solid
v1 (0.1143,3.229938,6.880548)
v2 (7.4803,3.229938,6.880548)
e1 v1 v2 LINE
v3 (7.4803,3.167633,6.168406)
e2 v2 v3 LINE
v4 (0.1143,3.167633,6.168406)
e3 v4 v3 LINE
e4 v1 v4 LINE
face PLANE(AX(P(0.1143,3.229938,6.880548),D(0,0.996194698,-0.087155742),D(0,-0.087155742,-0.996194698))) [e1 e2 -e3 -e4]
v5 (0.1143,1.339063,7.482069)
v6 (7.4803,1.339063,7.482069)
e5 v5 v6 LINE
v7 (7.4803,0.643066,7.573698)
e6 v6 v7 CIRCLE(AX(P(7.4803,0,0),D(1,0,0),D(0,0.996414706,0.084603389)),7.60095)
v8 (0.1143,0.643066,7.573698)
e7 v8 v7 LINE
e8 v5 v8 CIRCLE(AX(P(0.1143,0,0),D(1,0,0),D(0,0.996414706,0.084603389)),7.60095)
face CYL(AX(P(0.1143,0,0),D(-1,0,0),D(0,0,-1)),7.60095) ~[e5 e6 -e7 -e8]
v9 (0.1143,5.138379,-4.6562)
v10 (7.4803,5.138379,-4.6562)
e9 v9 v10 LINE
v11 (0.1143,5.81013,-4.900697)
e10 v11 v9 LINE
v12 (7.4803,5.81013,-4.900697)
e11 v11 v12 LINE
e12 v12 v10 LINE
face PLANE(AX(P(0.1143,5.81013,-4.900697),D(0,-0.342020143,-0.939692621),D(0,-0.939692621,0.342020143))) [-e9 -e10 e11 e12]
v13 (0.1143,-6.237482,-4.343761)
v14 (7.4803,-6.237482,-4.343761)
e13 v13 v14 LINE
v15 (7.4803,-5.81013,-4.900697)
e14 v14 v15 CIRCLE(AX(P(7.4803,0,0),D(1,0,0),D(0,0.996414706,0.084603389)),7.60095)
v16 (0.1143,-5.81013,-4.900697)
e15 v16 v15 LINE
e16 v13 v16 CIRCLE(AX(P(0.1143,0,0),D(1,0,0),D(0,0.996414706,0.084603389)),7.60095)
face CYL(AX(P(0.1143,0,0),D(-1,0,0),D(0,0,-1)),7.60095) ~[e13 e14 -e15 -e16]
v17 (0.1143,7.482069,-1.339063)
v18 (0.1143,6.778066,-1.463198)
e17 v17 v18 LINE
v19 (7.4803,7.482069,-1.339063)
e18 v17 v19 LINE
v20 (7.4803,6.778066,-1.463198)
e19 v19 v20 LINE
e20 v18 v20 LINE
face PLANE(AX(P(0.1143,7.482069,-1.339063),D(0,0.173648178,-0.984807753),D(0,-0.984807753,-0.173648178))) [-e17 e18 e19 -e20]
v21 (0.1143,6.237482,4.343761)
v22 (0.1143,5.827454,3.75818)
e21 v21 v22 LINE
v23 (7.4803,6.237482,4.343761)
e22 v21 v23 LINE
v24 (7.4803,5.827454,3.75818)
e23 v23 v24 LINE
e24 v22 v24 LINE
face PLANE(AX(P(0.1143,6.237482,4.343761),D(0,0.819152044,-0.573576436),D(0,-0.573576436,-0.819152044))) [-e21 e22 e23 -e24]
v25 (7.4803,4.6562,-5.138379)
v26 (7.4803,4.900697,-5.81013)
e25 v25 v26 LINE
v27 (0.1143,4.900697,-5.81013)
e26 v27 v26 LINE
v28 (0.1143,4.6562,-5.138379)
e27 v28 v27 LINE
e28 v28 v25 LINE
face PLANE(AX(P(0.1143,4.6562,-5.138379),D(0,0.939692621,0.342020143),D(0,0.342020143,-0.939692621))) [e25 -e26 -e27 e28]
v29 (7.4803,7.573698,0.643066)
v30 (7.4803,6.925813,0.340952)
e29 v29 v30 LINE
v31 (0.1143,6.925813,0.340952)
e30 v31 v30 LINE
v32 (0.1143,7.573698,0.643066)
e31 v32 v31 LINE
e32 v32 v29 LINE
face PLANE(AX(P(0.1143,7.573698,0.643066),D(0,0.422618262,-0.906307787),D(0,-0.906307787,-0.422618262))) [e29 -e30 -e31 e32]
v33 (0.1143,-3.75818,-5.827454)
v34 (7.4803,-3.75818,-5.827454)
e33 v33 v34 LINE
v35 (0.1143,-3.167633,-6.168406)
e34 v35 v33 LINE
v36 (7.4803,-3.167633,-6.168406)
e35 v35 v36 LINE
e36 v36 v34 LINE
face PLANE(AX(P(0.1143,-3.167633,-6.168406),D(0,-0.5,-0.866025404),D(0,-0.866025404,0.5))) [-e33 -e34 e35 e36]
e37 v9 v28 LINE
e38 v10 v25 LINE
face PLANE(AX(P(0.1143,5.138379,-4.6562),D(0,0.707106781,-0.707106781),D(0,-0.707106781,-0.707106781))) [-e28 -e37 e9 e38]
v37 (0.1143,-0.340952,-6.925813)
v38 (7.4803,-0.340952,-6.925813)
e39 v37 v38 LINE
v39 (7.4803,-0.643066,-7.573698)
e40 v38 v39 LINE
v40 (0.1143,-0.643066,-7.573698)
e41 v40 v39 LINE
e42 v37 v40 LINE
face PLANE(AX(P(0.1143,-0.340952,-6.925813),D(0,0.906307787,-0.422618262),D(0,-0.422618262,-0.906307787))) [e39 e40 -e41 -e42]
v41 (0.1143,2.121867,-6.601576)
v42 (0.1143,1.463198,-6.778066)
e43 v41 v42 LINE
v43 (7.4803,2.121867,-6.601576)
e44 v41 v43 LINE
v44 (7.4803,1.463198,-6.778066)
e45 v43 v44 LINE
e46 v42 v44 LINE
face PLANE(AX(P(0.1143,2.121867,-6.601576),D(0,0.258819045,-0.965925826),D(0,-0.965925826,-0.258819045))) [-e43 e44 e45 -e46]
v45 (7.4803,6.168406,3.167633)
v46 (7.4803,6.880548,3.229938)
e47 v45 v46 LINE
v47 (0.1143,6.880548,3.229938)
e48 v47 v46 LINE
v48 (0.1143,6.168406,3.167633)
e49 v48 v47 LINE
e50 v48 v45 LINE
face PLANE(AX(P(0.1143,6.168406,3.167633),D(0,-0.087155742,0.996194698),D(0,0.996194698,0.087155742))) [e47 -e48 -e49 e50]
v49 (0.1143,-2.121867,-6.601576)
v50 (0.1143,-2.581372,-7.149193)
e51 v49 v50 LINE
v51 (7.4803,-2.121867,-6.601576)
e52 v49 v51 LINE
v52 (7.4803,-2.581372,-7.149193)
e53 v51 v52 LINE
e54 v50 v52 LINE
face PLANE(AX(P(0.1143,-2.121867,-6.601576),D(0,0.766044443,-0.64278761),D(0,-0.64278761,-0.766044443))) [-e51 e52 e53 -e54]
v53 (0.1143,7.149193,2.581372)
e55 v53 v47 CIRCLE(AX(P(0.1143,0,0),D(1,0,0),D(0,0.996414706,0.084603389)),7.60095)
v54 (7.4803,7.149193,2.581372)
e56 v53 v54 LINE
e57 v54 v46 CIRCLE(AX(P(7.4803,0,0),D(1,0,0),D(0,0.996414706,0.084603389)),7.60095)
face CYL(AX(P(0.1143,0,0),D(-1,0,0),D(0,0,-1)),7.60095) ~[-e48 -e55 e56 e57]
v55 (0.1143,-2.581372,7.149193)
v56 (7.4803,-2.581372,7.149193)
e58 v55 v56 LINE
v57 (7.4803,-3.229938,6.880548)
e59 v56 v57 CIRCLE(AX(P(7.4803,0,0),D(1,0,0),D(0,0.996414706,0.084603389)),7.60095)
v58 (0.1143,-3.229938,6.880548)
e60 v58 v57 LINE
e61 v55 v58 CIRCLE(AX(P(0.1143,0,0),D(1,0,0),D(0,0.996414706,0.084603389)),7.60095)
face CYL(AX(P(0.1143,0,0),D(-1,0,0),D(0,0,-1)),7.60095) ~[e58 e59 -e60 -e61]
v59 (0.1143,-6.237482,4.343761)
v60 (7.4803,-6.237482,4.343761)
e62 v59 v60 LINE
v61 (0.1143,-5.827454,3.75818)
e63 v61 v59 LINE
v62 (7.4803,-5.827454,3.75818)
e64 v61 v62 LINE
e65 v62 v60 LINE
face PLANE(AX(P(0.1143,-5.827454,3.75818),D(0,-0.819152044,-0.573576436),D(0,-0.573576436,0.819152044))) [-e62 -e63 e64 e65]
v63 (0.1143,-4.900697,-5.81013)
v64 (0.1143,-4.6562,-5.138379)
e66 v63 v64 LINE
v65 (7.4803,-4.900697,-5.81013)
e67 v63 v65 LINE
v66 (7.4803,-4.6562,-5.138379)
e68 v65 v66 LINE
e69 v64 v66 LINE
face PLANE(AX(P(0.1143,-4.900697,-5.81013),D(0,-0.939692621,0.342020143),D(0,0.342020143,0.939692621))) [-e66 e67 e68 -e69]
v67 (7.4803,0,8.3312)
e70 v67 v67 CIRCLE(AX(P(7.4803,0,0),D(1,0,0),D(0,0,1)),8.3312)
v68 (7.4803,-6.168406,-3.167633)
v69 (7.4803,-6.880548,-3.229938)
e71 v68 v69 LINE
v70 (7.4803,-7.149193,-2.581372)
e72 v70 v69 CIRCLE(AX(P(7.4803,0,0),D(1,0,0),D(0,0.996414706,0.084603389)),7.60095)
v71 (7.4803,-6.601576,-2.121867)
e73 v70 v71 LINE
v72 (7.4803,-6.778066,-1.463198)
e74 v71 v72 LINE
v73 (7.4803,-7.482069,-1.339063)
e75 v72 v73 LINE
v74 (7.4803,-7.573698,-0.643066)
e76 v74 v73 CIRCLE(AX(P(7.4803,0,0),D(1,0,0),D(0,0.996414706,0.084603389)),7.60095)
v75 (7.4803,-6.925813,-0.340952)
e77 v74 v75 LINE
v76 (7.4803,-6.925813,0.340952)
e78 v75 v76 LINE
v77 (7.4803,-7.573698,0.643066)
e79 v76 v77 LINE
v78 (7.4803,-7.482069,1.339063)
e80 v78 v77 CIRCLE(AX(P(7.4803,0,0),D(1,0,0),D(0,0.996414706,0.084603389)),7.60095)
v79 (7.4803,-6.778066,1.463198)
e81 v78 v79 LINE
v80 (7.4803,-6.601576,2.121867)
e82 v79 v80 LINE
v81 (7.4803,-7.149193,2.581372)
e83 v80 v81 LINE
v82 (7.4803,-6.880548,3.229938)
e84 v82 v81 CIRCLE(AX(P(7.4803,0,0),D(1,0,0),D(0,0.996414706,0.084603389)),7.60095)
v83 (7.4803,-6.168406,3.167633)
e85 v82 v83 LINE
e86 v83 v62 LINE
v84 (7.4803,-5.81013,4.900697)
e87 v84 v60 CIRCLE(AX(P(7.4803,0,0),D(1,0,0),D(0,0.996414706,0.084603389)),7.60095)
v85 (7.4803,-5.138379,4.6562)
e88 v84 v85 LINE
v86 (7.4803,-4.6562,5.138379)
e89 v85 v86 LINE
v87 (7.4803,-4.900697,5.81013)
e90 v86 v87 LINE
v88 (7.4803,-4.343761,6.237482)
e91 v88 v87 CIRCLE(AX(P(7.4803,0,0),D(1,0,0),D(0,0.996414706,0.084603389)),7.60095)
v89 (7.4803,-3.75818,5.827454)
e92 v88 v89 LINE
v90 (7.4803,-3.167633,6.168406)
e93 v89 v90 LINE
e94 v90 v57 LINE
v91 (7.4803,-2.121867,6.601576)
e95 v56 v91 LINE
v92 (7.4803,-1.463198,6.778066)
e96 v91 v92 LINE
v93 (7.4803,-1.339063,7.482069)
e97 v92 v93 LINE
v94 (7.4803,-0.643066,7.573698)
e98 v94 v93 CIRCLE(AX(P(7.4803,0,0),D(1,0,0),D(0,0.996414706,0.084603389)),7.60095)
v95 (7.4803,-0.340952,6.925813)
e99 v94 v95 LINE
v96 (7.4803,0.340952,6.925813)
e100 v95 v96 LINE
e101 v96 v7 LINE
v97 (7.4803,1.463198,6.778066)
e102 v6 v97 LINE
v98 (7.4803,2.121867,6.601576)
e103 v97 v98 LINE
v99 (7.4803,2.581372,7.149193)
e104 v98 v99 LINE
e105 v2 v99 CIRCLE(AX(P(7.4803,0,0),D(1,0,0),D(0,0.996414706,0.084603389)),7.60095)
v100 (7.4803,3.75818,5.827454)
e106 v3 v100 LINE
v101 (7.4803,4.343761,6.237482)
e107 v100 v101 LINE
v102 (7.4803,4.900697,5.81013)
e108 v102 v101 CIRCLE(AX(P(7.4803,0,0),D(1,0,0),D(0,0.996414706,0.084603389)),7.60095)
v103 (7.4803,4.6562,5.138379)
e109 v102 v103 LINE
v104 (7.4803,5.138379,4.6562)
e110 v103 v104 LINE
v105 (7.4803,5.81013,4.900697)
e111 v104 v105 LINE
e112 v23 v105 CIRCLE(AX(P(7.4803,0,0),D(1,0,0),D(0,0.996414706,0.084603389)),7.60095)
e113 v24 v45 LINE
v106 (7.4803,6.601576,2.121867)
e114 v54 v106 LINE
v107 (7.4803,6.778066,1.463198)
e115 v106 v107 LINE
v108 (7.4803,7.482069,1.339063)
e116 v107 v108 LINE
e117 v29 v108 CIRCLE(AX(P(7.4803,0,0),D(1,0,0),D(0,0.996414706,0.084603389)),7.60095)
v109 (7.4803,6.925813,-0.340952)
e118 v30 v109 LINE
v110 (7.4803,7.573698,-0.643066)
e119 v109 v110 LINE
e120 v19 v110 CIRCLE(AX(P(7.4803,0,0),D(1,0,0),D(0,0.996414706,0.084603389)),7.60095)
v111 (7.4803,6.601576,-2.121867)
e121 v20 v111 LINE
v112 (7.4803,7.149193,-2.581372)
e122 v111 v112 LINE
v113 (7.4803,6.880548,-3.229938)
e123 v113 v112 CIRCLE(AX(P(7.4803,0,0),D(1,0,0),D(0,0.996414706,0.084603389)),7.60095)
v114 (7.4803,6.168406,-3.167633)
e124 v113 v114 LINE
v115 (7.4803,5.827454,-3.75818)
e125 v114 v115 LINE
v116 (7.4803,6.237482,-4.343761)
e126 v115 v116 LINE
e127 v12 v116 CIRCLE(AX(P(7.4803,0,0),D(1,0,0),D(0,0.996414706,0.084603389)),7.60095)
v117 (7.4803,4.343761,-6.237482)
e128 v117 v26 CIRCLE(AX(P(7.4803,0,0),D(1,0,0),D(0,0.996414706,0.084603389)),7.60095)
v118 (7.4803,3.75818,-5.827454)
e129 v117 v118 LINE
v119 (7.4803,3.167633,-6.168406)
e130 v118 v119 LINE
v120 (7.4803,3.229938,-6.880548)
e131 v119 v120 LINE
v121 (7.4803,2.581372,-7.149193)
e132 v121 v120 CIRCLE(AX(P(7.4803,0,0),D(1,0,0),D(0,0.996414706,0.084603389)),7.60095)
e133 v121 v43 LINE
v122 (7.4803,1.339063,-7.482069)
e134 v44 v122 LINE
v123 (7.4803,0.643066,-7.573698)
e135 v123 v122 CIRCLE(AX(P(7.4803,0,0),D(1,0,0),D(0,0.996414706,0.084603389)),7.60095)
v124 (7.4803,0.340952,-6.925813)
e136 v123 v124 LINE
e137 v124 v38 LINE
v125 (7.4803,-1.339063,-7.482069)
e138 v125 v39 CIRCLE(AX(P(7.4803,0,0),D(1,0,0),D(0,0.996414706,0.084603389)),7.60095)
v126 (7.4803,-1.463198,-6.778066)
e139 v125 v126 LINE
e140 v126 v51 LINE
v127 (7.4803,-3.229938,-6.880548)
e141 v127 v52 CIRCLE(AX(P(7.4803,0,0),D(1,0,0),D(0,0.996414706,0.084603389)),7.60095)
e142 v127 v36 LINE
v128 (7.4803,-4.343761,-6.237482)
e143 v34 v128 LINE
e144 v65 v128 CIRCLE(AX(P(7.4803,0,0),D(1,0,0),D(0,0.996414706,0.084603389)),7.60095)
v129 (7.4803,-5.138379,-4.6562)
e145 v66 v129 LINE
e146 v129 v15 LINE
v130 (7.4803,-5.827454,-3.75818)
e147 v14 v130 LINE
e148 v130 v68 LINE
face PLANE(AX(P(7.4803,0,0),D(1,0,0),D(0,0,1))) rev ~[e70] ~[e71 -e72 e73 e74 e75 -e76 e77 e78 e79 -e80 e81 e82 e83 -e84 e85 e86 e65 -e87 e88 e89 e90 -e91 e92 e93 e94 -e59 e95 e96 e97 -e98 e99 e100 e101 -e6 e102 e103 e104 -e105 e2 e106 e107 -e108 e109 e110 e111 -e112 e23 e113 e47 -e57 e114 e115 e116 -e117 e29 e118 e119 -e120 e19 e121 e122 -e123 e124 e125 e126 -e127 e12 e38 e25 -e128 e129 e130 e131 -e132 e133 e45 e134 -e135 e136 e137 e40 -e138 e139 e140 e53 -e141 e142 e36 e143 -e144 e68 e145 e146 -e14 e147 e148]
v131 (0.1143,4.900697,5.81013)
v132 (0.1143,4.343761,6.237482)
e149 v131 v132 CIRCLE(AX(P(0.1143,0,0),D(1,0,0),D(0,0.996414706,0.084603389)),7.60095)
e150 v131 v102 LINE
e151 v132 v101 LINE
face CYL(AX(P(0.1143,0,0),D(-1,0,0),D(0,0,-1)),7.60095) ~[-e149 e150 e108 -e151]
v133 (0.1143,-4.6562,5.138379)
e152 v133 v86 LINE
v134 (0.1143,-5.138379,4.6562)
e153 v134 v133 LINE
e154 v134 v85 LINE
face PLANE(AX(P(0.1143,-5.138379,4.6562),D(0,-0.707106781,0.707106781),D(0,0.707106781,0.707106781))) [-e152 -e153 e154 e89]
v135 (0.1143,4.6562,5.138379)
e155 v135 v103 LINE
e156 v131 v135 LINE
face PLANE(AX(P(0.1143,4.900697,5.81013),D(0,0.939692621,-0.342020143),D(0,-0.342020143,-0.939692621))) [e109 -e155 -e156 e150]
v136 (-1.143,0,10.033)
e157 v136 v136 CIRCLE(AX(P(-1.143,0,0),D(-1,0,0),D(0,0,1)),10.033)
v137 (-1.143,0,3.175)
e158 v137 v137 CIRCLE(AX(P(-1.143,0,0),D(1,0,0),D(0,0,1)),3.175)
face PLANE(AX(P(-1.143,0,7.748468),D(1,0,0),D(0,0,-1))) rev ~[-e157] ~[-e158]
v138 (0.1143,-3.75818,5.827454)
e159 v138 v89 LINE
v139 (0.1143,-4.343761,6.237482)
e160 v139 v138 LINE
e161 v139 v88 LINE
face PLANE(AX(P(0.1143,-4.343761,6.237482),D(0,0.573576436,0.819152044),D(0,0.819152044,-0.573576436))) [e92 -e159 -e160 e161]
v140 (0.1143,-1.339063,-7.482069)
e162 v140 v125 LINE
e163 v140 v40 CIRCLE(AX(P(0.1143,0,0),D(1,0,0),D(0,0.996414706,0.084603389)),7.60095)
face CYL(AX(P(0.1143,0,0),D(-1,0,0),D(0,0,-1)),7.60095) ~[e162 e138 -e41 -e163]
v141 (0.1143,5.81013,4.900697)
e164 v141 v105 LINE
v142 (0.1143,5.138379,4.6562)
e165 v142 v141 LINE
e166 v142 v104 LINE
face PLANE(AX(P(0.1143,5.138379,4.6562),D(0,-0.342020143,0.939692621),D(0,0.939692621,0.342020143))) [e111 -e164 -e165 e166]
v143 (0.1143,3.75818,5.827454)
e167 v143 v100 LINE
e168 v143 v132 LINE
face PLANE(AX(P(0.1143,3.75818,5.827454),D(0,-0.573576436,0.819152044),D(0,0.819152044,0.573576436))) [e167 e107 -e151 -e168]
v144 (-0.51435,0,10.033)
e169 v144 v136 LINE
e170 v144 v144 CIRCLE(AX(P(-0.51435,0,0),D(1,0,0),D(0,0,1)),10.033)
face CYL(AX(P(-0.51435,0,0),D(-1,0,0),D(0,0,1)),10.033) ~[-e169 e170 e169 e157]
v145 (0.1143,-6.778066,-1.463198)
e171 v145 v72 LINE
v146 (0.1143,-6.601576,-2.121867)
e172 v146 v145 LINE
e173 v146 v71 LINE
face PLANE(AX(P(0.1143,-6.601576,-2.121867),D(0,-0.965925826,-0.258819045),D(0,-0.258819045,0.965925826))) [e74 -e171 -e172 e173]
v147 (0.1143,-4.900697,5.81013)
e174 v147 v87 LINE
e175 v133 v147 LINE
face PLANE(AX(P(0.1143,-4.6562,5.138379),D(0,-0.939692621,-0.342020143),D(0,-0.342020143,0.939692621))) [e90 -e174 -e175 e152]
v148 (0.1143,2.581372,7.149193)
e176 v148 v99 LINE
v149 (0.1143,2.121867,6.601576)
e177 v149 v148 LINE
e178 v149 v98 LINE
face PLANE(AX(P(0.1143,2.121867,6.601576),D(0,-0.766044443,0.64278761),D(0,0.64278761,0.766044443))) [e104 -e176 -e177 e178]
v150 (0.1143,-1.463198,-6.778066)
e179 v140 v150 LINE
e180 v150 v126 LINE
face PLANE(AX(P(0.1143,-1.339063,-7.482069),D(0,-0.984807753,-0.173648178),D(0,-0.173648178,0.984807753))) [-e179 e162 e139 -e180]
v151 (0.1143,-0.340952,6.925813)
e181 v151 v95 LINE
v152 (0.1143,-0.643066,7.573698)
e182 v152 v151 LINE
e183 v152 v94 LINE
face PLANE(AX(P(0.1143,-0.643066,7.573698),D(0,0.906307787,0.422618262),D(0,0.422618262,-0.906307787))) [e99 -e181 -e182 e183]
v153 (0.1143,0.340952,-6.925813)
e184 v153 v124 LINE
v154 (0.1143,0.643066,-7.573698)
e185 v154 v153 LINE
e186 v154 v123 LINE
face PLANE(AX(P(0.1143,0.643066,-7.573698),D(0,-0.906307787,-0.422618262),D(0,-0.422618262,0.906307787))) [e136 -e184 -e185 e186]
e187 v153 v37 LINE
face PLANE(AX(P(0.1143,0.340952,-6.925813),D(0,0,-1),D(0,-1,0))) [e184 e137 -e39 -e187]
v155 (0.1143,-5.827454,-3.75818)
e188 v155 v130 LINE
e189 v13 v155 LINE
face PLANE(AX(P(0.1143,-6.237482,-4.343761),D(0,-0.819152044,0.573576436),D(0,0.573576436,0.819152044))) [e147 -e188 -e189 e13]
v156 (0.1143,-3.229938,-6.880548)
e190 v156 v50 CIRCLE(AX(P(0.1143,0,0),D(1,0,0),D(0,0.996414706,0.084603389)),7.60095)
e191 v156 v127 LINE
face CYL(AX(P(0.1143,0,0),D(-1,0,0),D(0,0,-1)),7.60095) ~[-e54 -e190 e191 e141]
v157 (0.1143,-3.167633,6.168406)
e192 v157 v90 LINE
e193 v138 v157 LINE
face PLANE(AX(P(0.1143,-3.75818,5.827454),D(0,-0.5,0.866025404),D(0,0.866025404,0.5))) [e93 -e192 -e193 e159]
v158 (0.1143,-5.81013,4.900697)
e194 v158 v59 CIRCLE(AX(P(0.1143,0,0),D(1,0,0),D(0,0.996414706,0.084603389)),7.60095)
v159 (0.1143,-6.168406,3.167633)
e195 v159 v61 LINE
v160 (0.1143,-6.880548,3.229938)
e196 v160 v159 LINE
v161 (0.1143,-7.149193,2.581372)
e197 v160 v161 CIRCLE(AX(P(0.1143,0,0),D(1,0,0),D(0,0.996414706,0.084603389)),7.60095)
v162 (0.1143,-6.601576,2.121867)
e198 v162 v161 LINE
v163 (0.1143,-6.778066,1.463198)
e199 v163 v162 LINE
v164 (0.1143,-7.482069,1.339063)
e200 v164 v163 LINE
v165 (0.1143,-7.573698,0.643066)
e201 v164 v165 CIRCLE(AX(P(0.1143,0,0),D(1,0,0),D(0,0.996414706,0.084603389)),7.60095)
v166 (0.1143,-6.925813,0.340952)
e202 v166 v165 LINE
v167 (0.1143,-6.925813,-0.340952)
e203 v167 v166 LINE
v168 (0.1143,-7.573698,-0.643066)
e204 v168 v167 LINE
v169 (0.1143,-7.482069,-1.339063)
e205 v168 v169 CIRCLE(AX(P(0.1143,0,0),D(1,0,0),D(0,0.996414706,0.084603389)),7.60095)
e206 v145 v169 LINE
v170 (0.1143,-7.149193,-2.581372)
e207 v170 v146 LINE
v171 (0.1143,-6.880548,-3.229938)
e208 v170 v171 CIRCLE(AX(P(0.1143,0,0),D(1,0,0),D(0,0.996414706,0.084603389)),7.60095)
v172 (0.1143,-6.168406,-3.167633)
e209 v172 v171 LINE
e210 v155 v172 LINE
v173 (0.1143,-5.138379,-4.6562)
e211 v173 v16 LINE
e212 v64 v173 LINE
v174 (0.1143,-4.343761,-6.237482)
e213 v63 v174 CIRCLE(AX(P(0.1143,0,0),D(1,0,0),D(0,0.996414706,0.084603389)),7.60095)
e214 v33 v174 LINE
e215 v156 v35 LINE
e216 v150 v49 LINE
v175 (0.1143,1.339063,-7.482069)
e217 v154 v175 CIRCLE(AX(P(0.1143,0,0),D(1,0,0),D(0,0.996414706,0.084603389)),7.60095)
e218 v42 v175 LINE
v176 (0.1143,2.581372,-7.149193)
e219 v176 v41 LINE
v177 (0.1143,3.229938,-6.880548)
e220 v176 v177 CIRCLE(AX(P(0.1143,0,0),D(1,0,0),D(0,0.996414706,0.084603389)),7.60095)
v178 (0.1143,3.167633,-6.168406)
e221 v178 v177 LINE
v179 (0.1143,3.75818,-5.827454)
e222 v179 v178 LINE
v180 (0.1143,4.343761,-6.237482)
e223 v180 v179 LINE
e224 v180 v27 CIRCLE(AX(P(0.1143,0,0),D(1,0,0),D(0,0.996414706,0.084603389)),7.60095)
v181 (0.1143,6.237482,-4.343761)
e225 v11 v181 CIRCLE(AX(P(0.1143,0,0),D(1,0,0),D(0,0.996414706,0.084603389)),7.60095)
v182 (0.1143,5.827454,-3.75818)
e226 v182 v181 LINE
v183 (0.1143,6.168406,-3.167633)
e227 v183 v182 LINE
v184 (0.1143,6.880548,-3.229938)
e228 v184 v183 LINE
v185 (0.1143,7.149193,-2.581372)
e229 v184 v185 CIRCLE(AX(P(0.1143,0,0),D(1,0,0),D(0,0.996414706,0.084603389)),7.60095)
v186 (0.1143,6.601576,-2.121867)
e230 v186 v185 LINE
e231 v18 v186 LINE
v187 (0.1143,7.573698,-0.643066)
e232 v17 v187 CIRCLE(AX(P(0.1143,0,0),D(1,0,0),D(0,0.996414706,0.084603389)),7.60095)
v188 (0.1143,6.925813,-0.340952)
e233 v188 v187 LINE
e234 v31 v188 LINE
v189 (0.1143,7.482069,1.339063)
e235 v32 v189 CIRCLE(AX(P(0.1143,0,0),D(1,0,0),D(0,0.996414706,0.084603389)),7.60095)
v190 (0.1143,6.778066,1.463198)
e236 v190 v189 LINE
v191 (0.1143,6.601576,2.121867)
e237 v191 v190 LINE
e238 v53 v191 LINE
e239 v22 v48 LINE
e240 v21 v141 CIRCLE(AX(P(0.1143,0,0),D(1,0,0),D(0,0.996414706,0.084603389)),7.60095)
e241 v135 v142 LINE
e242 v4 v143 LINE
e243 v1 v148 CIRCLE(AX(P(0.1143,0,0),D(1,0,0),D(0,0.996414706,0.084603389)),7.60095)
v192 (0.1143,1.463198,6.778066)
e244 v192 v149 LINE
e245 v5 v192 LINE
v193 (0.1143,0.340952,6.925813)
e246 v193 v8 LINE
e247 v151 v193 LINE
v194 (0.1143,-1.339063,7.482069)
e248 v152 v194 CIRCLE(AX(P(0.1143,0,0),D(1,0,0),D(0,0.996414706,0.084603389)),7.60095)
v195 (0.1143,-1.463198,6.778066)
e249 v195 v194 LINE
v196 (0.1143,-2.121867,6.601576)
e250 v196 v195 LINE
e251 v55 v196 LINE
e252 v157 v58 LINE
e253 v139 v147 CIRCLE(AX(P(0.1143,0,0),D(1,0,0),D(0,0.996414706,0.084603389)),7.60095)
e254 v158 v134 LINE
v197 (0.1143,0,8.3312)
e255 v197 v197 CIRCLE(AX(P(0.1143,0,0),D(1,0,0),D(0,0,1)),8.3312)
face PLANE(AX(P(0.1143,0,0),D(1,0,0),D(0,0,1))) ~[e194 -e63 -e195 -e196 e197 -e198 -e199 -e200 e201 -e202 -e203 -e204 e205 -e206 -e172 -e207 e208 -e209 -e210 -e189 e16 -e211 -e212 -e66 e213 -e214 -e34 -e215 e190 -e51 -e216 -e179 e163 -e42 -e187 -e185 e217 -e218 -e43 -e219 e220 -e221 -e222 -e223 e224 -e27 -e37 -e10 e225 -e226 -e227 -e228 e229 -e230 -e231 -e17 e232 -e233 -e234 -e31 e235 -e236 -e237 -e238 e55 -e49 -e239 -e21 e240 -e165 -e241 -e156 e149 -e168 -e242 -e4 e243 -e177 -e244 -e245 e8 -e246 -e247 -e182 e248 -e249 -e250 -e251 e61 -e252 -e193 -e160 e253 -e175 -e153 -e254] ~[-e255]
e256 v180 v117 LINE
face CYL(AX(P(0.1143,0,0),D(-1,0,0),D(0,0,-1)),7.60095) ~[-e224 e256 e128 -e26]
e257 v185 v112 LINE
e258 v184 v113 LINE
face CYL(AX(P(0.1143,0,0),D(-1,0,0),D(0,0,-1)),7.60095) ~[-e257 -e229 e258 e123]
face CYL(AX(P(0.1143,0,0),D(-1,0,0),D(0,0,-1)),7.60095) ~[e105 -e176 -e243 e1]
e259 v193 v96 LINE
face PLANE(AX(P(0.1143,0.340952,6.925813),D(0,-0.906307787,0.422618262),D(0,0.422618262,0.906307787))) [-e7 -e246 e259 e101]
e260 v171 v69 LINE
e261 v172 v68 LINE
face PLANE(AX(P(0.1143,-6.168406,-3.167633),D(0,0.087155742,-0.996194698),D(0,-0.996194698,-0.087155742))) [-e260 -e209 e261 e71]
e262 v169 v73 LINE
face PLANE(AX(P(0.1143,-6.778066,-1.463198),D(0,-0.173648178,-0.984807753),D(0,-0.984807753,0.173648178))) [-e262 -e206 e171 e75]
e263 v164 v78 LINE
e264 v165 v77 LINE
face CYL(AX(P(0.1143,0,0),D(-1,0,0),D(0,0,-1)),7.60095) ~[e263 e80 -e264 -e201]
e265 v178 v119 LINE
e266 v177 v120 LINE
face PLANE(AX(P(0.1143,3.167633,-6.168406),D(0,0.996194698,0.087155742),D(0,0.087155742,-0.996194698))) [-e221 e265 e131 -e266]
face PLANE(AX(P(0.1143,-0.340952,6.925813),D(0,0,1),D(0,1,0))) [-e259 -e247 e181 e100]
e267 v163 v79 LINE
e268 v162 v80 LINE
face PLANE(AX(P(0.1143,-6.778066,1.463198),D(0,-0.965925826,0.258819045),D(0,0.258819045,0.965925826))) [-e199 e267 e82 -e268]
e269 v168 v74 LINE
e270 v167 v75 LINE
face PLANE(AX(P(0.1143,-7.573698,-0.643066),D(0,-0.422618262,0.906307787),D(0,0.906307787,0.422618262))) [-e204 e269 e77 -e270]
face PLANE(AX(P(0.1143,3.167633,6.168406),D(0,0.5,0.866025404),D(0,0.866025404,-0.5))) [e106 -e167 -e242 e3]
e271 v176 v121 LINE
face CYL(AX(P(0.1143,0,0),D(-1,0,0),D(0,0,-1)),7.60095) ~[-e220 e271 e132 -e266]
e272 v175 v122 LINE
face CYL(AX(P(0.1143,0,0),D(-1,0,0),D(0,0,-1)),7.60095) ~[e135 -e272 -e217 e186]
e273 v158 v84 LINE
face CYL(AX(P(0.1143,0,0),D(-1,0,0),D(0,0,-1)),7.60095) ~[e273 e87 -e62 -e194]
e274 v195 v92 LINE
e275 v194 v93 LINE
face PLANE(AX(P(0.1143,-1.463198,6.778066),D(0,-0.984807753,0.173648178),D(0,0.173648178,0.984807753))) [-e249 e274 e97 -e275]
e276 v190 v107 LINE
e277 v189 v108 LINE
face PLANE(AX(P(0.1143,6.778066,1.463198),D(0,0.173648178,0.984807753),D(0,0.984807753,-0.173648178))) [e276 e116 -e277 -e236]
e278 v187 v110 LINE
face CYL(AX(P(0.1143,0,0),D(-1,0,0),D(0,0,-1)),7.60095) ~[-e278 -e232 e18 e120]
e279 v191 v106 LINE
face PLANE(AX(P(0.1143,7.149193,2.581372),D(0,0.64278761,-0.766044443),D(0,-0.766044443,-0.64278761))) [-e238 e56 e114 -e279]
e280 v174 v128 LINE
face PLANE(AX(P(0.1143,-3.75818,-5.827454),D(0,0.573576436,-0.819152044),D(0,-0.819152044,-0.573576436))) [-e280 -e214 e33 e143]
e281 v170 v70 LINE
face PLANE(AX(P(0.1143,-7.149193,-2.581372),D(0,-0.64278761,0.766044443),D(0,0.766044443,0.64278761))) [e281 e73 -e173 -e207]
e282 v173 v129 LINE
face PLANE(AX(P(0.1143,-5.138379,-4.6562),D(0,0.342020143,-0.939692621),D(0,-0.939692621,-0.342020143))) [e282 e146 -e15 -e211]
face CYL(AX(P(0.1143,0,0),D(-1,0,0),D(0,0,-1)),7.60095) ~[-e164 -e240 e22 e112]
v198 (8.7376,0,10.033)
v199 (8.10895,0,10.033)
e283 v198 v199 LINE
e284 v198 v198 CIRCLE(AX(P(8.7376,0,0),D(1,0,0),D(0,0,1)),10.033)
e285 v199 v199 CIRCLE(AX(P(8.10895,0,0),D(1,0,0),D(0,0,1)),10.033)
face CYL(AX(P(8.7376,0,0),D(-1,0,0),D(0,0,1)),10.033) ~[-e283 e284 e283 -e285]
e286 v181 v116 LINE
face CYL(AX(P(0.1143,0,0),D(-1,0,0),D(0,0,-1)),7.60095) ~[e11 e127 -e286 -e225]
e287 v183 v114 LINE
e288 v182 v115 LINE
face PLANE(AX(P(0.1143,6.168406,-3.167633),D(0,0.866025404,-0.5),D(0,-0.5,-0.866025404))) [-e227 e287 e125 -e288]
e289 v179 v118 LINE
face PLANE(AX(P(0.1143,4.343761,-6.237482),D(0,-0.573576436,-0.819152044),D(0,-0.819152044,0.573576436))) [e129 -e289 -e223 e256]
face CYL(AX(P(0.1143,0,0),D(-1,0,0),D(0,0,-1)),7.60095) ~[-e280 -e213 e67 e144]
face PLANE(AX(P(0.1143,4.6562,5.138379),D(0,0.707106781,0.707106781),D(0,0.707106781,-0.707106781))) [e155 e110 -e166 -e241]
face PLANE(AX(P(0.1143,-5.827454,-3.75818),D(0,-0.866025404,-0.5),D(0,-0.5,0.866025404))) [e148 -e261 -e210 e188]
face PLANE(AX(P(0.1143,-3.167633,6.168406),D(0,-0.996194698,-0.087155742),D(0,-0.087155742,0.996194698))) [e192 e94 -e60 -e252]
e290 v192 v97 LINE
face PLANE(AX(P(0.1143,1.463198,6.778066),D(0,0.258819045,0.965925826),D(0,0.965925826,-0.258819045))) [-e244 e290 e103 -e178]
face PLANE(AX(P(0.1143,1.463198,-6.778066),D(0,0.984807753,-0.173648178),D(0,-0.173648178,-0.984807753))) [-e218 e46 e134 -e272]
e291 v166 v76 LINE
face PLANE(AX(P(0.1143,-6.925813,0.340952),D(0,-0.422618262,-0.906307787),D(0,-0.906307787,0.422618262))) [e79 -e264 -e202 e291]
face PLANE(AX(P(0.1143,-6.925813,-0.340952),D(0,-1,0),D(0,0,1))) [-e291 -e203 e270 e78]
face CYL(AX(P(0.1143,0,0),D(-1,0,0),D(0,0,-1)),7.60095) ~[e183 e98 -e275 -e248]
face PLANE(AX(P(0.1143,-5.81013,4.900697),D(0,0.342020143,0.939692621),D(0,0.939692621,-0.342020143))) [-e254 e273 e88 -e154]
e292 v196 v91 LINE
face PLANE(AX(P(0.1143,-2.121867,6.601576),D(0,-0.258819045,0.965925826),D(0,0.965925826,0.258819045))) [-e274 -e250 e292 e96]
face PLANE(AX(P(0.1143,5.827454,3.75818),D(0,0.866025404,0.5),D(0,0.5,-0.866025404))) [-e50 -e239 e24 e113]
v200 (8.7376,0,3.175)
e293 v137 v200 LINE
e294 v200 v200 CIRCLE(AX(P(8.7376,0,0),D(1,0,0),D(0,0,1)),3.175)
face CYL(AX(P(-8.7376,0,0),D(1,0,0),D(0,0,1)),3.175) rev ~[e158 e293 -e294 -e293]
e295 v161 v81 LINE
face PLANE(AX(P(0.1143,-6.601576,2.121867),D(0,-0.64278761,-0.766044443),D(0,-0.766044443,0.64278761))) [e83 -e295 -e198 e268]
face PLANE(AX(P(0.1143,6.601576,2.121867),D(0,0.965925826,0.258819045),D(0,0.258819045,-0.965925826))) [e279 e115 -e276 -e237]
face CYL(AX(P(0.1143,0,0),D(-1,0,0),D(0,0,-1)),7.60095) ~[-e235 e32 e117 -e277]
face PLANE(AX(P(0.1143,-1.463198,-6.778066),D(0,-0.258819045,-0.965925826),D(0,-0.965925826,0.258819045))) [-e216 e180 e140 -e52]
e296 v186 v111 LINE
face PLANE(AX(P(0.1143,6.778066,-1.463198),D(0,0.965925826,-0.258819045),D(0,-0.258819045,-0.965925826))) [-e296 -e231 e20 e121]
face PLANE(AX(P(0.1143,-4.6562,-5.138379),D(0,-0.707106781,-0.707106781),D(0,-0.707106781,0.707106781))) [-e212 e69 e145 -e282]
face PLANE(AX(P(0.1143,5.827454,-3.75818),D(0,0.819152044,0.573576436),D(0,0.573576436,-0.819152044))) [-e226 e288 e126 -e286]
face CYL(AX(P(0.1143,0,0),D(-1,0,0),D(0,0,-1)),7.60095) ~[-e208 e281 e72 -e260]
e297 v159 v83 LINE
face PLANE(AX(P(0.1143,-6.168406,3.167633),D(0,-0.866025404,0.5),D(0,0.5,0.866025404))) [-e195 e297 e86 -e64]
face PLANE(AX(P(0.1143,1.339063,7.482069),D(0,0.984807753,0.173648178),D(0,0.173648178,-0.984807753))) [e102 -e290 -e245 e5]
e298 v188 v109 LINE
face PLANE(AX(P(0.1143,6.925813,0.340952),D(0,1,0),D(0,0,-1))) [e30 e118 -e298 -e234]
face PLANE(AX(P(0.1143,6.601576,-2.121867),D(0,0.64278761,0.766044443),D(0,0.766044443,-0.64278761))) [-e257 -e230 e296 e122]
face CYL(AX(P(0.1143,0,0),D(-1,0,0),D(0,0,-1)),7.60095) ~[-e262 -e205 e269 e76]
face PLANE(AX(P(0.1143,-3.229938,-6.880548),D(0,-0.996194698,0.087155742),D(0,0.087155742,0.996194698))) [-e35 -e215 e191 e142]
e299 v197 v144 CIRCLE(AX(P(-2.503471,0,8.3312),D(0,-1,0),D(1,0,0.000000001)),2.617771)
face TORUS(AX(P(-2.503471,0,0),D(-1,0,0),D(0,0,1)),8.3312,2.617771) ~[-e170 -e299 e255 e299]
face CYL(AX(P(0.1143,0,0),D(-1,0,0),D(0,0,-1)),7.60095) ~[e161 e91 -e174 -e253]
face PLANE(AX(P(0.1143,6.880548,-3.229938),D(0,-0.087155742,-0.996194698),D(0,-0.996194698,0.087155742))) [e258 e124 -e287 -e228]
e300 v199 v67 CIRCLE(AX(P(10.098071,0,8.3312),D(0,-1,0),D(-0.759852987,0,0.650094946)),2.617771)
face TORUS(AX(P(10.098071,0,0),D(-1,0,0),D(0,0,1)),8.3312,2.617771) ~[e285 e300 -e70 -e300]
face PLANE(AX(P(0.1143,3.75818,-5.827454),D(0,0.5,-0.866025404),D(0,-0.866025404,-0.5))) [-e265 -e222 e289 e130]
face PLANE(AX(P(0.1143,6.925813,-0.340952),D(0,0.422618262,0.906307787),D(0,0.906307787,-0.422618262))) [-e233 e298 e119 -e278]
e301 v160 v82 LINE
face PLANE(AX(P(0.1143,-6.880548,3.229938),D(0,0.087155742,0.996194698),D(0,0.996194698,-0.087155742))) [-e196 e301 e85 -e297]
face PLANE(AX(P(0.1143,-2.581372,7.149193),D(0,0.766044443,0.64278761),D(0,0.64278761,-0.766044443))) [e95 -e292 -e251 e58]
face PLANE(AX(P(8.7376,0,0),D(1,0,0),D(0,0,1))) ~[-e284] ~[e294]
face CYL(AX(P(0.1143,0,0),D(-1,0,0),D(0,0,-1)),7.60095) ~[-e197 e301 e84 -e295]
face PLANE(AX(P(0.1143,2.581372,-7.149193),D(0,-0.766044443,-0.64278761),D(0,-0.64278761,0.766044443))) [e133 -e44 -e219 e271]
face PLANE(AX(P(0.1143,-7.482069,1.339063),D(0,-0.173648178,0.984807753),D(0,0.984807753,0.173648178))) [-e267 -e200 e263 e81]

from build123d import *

# Parameters (mm, degrees)
SKETCH4_R          = 7.7597
SKETCH4_R_2        = 7.60095
CUT_EXTRUDE2_DEPTH = 7.366
CUT_EXTRUDE1_DEPTH = 7.366
CIRPATTERN1_COUNT  = 24
SKETCH6_R          = 1.4605
CUT_EXTRUDE3_DEPTH = 17.66336796
CUT_EXTRUDE4_DEPTH = 1.016
CIRPATTERN2_COUNT  = 2
CIRPATTERN2_ANGLE  = 90
CIRPATTERN3_COUNT  = 2
CIRPATTERN3_ANGLE  = 90
SKETCH9_W          = 8.047950053
SKETCH9_H          = 15.828316952
CUT_EXTRUDE5_DEPTH = 7.62


with BuildPart() as part:
    # Sketch1 → Revolve1 (revolve)
    with BuildSketch(Plane.XY, mode=Mode.PRIVATE) as revolve1_sk:
        with BuildLine():
            Line((-8.7376, 3.175), (8.7376, 3.175))
            Line((8.7376, 3.175), (8.7376, 10.033))
            Line((8.7376, 10.033), (8.10895, 10.033))
            ThreePointArc((8.10895, 10.033), (7.642486723, 9.238300334), (7.4803, 8.3312))
            Line((7.4803, 8.3312), (7.4803, 7.7597))
            Line((7.4803, 7.7597), (0.1143, 7.7597))
            Line((0.1143, 7.7597), (0.1143, 8.3312))
            ThreePointArc((0.1143, 8.3312), (-0.047886723, 9.238300334), (-0.51435, 10.033))
            Line((-0.51435, 10.033), (-1.143, 10.033))
            Line((-1.143, 10.033), (-1.143, 5.6134))
            Line((-1.143, 5.6134), (-8.7376, 5.6134))
            Line((-8.7376, 5.6134), (-8.7376, 3.175))
        make_face()
    revolve(revolve1_sk.sketch.rotate(Axis((-8.7376, 0, 0), (1, 0, 0)), 90), axis=Axis((-8.7376, 0, 0), (1, 0, 0)))

    # Sketch4 → Cut-Extrude2 (cut)
    with BuildSketch(Plane(origin=(0.1143, 0, 0), x_dir=(0, 0, -1), z_dir=(1, 0, 0))):
        Circle(SKETCH4_R)
        Circle(SKETCH4_R_2, mode=Mode.SUBTRACT)
    extrude(amount=CUT_EXTRUDE2_DEPTH, mode=Mode.SUBTRACT)

    # Sketch3 → Cut-Extrude1 (cut)
    with BuildSketch(Plane(origin=(0.1143, 0, 0), x_dir=(0, 0, -1), z_dir=(1, 0, 0))):
        with BuildLine():
            Line((-0.643066132, 7.57369836), (-0.340952079, 6.925812683))
            Line((-0.340952079, 6.925812683), (0.340952079, 6.925812683))
            Line((0.340952079, 6.925812683), (0.643066132, 7.57369836))
            ThreePointArc((0.643066132, 7.57369836), (0, 7.60095), (-0.643066132, 7.57369836))
        make_face()
    cut_extrude1 = extrude(amount=CUT_EXTRUDE1_DEPTH, mode=Mode.SUBTRACT)

    # CirPattern1: Cut-Extrude1 ×24 about axis
    cirpattern1_axis = Axis((0, 0, 0), (1, 0, 0))
    for i in range(1, CIRPATTERN1_COUNT):
        add(cut_extrude1.rotate(cirpattern1_axis, i * 360 / CIRPATTERN1_COUNT), mode=Mode.SUBTRACT)

    # Sketch6 → Cut-Extrude3 (cut, through all)
    with BuildSketch(Plane(origin=(0, 0, 0), x_dir=(1, 0, 0), z_dir=(0, 1, 0))):
        with Locations(Location((-4.9403, 0, 0), (0, 0, 90))):
            Circle(SKETCH6_R)
    cut_extrude3 = extrude(amount=CUT_EXTRUDE3_DEPTH, mode=Mode.SUBTRACT)

    # CirPattern2: Cut-Extrude3 ×2 about axis
    cirpattern2_axis = Axis((-8.7376, 0, 0), (1, 0, 0))
    for i in range(1, CIRPATTERN2_COUNT):
        add(cut_extrude3.rotate(cirpattern2_axis, i * CIRPATTERN2_ANGLE / (CIRPATTERN2_COUNT - 1)), mode=Mode.SUBTRACT)


with BuildPart() as body_2:
    # Sketch7 → Revolve2 (revolve)
    with BuildSketch(Plane.XY, mode=Mode.PRIVATE) as revolve2_sk:
        Polygon((-6.1087, 5.6134), (-4.9403, 5.6134), (-4.9403, 3.556), (-6.1087, 3.556), (-6.3627, 3.81), (-6.3627, 5.3594), align=None)
    revolve(revolve2_sk.sketch.rotate(Axis((-4.9403, 3.556, 0), (0, 1, 0)), 270), axis=Axis((-4.9403, 3.556, 0), (0, 1, 0)))

    # Sketch8 → Cut-Extrude4 (cut)
    with BuildSketch(Plane(origin=(0, 5.6134, 0), x_dir=(1, 0, 0), z_dir=(0, 1, 0))):
        Polygon((-4.9403, 0.821223023), (-5.6515, 0.410611511), (-5.6515, -0.410611511), (-4.9403, -0.821223023), (-4.2291, -0.410611511), (-4.2291, 0.410611511), align=None)
    extrude(amount=-CUT_EXTRUDE4_DEPTH, mode=Mode.SUBTRACT)


with BuildPart() as cirpattern3_1:
    # CirPattern3: pattern copy
    add(body_2.part.rotate(Axis((0, 0, 0), (1, 0, 0)), 1 * CIRPATTERN3_ANGLE / (CIRPATTERN3_COUNT - 1)))


with BuildPart() as cut_extrude5_tool:
    # Sketch9 → Cut-Extrude5 (new, symmetric)
    with BuildSketch(Plane(origin=(0, 0, 0), x_dir=(1, 0, 0), z_dir=(0, 1, 0))):
        with Locations((-5.166975027, 0.16569051)):
            Rectangle(SKETCH9_W, SKETCH9_H)
    extrude(amount=CUT_EXTRUDE5_DEPTH, both=True)


with BuildPart() as part_1:
    add(part.part)

    # Cut-Extrude5: cut by cut_extrude5_tool
    add(cut_extrude5_tool.part, mode=Mode.SUBTRACT)


with BuildPart() as body_2_1:
    add(body_2.part)

    # Cut-Extrude5: cut by cut_extrude5_tool
    add(cut_extrude5_tool.part, mode=Mode.SUBTRACT)


with BuildPart() as cirpattern3_1_1:
    add(cirpattern3_1.part)

    # Cut-Extrude5: cut by cut_extrude5_tool
    add(cut_extrude5_tool.part, mode=Mode.SUBTRACT)


solid = part_1.part
